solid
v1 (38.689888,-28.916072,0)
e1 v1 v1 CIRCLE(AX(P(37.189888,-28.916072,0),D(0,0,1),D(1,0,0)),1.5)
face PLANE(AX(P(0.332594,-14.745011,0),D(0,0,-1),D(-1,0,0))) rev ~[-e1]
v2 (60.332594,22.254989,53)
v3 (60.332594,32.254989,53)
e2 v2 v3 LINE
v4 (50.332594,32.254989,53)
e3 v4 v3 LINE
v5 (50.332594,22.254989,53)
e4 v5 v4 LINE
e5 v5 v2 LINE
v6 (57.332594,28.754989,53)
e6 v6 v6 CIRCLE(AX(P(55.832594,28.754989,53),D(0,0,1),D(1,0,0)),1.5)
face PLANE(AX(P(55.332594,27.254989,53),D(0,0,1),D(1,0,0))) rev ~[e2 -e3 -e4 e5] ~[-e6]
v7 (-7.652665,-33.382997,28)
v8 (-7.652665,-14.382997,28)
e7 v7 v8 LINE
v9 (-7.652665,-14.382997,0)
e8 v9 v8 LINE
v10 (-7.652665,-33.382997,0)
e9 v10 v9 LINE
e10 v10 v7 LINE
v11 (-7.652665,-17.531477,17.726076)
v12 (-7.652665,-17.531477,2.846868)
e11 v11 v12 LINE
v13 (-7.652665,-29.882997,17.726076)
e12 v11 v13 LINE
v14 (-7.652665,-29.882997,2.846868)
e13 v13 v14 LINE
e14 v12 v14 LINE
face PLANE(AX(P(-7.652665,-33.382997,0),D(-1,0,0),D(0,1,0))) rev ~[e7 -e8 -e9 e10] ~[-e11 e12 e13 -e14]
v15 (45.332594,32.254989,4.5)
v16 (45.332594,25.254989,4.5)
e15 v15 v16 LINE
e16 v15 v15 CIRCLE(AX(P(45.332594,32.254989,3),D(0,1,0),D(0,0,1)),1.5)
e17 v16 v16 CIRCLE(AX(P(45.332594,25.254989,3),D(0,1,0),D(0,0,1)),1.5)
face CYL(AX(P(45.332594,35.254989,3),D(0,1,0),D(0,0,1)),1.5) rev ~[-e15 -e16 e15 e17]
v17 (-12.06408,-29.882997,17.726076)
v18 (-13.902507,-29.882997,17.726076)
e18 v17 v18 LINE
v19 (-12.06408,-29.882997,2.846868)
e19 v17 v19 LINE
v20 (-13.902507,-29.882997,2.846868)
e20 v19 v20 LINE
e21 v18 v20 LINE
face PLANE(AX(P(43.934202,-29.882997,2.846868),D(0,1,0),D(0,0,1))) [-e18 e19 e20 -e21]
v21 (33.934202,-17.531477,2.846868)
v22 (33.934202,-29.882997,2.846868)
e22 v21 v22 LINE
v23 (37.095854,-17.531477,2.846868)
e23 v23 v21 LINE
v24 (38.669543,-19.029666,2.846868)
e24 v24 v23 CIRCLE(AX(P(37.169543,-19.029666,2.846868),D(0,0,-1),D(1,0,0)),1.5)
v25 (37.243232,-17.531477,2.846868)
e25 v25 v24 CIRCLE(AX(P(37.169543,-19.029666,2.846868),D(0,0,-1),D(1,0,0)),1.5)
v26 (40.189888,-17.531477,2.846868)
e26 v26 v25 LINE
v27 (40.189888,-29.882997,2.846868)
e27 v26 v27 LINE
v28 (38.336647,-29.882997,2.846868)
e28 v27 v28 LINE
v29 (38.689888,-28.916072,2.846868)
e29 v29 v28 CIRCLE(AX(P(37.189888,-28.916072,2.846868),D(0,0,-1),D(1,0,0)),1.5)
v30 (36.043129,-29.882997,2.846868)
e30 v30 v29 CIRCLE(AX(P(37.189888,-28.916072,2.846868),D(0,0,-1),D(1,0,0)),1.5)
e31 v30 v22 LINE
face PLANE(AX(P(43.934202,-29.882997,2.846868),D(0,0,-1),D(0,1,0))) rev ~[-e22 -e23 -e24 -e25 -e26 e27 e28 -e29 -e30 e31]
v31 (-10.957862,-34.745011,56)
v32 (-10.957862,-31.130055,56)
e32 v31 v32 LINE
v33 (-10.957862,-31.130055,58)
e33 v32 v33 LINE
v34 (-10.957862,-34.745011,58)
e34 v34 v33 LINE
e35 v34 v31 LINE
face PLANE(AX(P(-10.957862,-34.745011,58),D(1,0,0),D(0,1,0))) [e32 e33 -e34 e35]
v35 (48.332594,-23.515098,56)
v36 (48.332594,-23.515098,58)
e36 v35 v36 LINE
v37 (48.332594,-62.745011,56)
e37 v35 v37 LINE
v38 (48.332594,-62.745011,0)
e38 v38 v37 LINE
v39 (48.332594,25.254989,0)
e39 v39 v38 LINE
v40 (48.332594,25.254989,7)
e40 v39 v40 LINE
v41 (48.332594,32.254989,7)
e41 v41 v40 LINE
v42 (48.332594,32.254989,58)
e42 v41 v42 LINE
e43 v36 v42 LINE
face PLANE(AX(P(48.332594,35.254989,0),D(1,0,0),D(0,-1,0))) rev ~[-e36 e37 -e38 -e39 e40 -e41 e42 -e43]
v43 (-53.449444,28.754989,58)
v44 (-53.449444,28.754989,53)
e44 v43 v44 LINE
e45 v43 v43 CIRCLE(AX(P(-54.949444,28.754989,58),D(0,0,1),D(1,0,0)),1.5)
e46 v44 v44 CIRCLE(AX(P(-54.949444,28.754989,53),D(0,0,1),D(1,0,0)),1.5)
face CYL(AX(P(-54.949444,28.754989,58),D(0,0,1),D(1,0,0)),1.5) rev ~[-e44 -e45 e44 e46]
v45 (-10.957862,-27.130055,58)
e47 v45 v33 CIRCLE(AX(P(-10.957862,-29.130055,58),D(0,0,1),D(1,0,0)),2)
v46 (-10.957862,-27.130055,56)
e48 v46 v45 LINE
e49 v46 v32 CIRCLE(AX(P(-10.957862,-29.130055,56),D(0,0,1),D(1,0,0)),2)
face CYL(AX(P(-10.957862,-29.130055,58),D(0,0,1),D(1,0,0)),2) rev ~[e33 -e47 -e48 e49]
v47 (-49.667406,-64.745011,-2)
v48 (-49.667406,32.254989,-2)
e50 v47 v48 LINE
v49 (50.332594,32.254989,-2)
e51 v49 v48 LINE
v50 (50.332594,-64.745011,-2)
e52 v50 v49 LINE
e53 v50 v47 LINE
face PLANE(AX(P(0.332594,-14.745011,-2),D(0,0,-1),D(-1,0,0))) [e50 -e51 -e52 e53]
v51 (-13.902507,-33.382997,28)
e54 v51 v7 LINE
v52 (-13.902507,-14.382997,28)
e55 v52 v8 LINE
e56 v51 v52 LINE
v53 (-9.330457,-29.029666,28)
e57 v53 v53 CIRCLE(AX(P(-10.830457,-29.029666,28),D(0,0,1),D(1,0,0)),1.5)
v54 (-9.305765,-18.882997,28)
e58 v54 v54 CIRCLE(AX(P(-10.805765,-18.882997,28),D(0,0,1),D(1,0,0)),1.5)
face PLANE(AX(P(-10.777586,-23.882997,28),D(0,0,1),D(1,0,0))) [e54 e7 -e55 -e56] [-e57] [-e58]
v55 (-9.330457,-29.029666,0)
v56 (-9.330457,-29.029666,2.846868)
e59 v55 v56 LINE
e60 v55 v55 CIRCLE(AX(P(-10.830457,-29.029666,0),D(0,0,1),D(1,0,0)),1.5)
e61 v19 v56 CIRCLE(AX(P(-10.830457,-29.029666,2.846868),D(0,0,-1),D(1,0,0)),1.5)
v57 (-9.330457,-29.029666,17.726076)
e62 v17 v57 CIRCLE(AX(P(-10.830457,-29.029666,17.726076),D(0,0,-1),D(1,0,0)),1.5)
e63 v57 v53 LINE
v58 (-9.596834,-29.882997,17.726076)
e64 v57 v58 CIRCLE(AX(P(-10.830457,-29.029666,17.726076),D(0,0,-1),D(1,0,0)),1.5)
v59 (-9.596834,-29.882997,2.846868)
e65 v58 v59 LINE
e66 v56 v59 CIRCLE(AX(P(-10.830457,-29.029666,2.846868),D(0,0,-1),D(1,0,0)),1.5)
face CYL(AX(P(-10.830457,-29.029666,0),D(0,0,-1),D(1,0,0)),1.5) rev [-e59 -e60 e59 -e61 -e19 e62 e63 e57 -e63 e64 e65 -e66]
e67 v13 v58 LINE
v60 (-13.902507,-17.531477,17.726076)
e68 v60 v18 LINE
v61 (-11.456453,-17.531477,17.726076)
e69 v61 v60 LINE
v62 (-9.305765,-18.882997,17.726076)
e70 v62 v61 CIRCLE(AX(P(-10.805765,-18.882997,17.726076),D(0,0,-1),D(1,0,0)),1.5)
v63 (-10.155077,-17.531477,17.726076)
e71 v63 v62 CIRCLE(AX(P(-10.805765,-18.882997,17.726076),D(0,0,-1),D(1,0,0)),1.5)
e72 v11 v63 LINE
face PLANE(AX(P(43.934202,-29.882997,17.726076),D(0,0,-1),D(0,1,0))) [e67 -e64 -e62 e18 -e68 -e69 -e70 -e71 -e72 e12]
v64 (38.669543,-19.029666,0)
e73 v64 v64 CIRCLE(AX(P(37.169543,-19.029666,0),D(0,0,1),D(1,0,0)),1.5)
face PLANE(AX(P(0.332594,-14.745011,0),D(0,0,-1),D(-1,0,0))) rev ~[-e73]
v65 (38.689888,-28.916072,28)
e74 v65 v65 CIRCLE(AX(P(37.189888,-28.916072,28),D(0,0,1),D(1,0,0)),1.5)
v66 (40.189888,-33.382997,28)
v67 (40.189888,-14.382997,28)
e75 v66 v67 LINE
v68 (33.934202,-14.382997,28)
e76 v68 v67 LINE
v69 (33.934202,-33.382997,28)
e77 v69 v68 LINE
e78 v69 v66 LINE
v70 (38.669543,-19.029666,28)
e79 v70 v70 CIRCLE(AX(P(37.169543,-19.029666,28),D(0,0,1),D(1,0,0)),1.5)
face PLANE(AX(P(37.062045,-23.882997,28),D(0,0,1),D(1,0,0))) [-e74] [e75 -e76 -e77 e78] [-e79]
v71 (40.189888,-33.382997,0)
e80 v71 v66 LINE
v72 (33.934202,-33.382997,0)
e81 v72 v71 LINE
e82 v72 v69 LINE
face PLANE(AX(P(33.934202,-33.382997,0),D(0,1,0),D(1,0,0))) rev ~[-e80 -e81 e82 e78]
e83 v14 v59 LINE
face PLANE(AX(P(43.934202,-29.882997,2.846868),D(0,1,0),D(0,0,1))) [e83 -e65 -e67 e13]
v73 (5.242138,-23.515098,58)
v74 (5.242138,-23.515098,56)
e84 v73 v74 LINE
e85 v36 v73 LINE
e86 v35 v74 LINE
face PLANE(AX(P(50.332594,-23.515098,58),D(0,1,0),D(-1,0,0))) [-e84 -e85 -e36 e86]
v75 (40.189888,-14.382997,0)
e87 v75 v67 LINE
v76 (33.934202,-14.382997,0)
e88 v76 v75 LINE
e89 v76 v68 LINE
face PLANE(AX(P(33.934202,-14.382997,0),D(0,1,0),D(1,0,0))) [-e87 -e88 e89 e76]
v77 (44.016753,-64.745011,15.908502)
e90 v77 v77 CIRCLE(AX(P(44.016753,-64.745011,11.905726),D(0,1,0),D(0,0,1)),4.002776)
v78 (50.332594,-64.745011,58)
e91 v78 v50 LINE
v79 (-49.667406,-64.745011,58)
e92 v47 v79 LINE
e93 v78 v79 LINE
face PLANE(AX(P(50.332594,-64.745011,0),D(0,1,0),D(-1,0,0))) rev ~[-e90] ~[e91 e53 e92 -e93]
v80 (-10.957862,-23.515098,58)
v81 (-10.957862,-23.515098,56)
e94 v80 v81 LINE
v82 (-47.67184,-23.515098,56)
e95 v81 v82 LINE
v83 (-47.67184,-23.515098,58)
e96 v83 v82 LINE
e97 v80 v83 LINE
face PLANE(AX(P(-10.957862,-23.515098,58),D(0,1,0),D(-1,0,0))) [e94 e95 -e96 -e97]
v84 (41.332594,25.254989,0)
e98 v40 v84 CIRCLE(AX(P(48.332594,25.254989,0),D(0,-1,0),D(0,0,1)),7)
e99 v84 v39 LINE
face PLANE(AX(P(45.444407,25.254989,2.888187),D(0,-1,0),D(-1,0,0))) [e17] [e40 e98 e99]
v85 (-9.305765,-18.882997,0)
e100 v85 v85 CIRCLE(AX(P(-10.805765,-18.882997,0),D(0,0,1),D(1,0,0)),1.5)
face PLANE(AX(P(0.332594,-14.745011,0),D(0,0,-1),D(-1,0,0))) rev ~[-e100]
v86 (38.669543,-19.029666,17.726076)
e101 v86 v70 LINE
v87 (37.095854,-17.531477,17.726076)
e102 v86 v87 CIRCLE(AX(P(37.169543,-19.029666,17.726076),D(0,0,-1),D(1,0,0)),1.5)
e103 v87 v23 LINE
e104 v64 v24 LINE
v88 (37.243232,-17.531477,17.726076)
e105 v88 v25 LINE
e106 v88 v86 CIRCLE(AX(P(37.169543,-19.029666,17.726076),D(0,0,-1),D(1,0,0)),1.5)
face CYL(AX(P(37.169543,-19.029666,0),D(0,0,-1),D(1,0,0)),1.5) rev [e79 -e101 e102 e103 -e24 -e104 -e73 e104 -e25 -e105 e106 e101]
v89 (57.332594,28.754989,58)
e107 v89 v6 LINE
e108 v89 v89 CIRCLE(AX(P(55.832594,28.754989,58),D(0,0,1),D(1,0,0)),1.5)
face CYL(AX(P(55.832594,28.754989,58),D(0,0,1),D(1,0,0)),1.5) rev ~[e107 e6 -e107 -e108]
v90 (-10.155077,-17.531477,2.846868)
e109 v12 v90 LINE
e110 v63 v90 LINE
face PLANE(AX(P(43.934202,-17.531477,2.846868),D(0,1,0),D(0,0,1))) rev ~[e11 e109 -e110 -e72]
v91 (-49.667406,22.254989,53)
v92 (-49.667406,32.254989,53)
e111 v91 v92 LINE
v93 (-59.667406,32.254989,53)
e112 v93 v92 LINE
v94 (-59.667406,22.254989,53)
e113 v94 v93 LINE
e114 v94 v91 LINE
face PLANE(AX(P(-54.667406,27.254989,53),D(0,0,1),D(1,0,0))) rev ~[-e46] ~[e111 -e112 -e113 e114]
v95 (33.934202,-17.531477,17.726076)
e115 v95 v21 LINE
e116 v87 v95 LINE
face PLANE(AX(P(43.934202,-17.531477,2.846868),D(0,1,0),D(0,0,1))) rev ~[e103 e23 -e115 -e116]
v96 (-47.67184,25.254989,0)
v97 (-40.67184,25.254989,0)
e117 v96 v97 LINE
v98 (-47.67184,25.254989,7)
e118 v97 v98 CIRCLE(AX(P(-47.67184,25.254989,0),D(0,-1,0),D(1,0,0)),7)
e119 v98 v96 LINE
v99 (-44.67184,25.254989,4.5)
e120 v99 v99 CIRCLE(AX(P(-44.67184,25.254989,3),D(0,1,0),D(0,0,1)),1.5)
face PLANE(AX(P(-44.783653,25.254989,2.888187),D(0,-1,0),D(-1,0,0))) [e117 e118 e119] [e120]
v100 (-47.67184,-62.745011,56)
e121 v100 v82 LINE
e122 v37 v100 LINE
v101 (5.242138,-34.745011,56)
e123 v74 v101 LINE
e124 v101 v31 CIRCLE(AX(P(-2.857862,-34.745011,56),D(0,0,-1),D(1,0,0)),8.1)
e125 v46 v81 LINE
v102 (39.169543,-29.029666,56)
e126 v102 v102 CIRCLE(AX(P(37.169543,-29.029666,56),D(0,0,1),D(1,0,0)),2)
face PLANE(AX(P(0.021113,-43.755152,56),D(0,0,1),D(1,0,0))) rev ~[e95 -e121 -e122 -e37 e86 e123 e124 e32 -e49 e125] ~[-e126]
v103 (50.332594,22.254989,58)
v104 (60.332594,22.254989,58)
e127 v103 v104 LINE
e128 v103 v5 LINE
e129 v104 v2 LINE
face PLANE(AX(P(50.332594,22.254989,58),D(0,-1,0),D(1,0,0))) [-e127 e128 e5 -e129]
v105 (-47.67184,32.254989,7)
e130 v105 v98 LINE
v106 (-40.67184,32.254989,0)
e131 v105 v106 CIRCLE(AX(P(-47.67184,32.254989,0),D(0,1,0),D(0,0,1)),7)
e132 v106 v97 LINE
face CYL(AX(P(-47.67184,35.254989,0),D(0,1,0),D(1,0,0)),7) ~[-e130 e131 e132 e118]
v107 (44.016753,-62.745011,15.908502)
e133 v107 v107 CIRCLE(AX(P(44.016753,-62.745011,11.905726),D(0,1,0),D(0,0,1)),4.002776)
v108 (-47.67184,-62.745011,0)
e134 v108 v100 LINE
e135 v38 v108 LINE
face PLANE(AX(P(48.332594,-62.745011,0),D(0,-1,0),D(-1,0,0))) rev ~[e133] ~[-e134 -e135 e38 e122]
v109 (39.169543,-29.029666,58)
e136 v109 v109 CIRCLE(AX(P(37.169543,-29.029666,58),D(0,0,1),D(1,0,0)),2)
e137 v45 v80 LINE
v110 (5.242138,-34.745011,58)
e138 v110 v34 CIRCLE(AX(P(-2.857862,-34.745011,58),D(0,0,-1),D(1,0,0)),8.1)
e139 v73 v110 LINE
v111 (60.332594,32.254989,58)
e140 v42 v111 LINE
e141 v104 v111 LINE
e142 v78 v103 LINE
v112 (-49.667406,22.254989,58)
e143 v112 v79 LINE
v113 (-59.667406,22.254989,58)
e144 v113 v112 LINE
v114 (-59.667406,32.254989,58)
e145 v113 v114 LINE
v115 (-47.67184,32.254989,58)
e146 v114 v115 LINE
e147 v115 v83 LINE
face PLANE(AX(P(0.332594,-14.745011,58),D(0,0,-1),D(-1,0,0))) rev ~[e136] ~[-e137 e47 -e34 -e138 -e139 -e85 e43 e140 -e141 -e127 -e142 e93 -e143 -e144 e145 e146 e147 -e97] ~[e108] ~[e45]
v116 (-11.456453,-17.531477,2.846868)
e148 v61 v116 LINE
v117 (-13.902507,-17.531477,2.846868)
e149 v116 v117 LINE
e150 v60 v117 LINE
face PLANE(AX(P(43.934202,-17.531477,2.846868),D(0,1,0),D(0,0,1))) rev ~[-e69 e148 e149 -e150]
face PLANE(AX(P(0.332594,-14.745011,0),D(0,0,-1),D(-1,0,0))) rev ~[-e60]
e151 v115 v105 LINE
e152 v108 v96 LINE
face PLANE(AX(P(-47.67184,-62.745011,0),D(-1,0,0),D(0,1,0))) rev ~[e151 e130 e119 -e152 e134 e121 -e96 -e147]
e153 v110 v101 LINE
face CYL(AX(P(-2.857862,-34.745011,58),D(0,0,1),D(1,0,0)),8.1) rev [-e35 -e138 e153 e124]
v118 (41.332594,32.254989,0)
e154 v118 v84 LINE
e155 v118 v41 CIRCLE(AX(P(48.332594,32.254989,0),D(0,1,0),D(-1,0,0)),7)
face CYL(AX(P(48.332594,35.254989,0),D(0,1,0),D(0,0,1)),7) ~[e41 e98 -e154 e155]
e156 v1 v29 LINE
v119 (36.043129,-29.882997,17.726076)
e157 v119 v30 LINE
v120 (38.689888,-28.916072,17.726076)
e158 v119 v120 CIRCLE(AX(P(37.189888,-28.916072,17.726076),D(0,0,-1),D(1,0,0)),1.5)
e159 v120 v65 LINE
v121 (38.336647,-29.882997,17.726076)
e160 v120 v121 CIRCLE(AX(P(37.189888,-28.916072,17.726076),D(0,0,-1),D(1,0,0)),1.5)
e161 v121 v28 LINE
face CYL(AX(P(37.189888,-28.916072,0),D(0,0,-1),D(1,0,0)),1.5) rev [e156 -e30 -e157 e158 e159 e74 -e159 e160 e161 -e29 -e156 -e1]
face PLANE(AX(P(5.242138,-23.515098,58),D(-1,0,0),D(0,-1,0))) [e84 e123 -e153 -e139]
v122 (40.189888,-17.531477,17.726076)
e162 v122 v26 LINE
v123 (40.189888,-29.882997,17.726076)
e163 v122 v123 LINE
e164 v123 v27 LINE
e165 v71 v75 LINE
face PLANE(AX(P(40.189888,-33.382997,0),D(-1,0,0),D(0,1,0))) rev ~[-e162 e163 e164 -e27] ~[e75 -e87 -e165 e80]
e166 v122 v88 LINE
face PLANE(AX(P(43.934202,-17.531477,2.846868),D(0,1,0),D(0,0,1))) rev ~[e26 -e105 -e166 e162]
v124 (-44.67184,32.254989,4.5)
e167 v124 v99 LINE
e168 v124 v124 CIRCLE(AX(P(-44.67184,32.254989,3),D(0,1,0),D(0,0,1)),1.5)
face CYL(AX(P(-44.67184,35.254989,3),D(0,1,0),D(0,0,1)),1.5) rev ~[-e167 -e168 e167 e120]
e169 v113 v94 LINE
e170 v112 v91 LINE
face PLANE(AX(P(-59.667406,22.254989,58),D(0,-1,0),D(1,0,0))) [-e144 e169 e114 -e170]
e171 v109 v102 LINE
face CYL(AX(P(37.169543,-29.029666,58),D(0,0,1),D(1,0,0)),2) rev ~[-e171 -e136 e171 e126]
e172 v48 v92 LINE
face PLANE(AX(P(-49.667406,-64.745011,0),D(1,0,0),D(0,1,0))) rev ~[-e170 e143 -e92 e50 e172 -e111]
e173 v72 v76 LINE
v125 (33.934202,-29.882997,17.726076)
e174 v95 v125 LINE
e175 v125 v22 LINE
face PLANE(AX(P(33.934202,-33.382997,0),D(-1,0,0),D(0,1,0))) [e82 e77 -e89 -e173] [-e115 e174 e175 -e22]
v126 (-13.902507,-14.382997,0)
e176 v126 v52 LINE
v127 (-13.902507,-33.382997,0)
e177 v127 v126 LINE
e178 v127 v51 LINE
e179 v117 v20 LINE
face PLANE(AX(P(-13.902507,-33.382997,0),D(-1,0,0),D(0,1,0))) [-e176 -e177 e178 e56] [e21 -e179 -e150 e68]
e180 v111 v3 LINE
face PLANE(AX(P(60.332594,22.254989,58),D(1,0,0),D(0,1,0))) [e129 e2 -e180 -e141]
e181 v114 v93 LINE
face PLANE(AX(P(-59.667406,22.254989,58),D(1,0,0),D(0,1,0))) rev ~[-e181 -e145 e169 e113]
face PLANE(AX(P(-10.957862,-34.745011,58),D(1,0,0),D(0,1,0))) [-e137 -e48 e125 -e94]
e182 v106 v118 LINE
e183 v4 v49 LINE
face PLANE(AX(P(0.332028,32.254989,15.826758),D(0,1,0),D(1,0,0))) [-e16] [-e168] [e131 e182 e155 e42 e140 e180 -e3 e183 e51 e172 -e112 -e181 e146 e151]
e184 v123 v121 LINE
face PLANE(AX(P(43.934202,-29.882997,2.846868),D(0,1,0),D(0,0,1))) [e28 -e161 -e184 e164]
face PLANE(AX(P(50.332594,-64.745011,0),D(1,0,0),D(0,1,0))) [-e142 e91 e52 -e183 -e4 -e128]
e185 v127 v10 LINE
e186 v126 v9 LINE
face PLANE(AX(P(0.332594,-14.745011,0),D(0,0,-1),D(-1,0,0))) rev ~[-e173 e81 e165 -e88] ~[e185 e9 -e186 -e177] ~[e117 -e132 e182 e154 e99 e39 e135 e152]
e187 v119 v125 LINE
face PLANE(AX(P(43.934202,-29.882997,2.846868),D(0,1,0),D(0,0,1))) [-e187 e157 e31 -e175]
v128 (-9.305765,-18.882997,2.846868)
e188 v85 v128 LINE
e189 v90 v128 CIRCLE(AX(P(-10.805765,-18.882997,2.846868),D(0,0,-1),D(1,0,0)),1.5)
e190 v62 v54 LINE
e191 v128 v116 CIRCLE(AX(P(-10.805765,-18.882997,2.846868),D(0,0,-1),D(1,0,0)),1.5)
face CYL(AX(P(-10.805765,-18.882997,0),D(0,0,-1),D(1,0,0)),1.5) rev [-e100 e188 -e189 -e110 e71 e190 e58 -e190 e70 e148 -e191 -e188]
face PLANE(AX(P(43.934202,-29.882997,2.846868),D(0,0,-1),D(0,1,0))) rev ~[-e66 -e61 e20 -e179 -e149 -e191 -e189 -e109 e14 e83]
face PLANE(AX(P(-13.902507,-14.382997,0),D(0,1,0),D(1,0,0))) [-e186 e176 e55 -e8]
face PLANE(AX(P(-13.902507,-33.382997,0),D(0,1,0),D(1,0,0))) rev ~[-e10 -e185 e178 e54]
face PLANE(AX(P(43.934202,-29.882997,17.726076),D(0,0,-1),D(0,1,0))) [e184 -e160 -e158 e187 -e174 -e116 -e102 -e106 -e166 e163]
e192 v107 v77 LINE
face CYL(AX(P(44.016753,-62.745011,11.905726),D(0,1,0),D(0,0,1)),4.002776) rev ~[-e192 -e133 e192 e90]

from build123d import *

# Parameters (mm, degrees)
BOSS_EXTRUDE1_DEPTH     = 70
SKETCH2_W               = 100
SKETCH2_H               = 100
BOSS_EXTRUDE2_DEPTH     = 2
SKETCH3_W               = 6.255686465
SKETCH3_H               = 19
SKETCH3_R               = 1.5
SKETCH3_W_2             = 6.249842205
BOSS_EXTRUDE4_DEPTH     = 28
CUT_EXTRUDE2_DEPTH      = 49
CUT_EXTRUDE2_DEPTH_BACK = 10
SKETCH4_W               = 14.879207683
SKETCH4_H               = 12.351519759
SKETCH5_W               = 96.00443459
SKETCH5_H               = 43.693152777
BOSS_EXTRUDE5_DEPTH     = 2
SKETCH9_W               = 100
SKETCH9_H               = 100
CUT_EXTRUDE3_DEPTH      = 42
BOSS_EXTRUDE6_DEPTH     = 2
SKETCH8_R               = 1.5
BOSS_EXTRUDE7_DEPTH     = 10
SKETCH11_W              = 10
SKETCH11_H              = 10
SKETCH11_R              = 1.5
BOSS_EXTRUDE8_DEPTH     = 5
SKETCH13_R              = 2
CUT_EXTRUDE4_DEPTH      = 10
CUT_EXTRUDE5_DEPTH      = 3
SKETCH16_R              = 4.002775558
CUT_EXTRUDE7_DEPTH      = 3


with BuildPart() as part:
    # Sketch1 → Boss-Extrude1 (new body)
    with BuildSketch(Plane.XY):
        Polygon((-47.671840355, 33.254988914), (-47.671840355, 35.254988914), (-49.667405765, 35.254988914), (-49.667405765, -64.745011086), (50.332594235, -64.745011086), (50.332594235, 35.254988914), (48.332594235, 35.254988914), (48.332594235, 33.254988914), (48.332594235, -62.745011086), (-47.671840355, -62.745011086), align=None)
    extrude(amount=BOSS_EXTRUDE1_DEPTH)

    # Sketch2 → Boss-Extrude2 (add)
    with BuildSketch(Plane(origin=(0, 0, 0), x_dir=(-1, 0, 0), z_dir=(0, 0, -1))):
        with Locations((-0.332594235, -14.745011086)):
            Rectangle(SKETCH2_W, SKETCH2_H)
    extrude(amount=BOSS_EXTRUDE2_DEPTH)

    # Sketch3 → Boss-Extrude4 (add)
    # profile 1 of 2: a face of its own
    with BuildSketch(Plane.XY):
        with Locations((37.062045054, -23.882996664)):
            Rectangle(SKETCH3_W, SKETCH3_H)
        with Locations((37.169542955, -19.02966579)):
            Circle(SKETCH3_R, mode=Mode.SUBTRACT)
        with Locations((37.189888286, -28.916071788)):
            Circle(SKETCH3_R, mode=Mode.SUBTRACT)
    # profile 2 of 2: a face of its own
    with BuildSketch(Plane.XY):
        with Locations((-10.777585785, -23.882996664)):
            Rectangle(SKETCH3_W_2, SKETCH3_H)
        with Locations((-10.805764952, -18.882996664)):
            Circle(SKETCH3_R, mode=Mode.SUBTRACT)
        with Locations((-10.830457045, -29.02966579)):
            Circle(SKETCH3_R, mode=Mode.SUBTRACT)
    extrude(amount=BOSS_EXTRUDE4_DEPTH)

    # Sketch4 → Cut-Extrude2 (cut, two sides: drawn at the far end of the back side and taken through both)
    with BuildSketch(Plane.ZY.offset(-33.934201821).offset(-CUT_EXTRUDE2_DEPTH_BACK)):
        with Locations((10.28647213, -23.707236785)):
            Rectangle(SKETCH4_W, SKETCH4_H)
    extrude(amount=CUT_EXTRUDE2_DEPTH + CUT_EXTRUDE2_DEPTH_BACK, mode=Mode.SUBTRACT)

    # Sketch5 → Boss-Extrude5 (add)
    with BuildSketch(Plane.XY.offset(70)):
        with Locations((0.33037694, -40.898434698)):
            Rectangle(SKETCH5_W, SKETCH5_H)
    extrude(amount=-BOSS_EXTRUDE5_DEPTH)

    # Sketch9 → Cut-Extrude3 (cut)
    with BuildSketch(Plane(origin=(0, 0, 58), x_dir=(-1, 0, 0), z_dir=(0, 0, -1))):
        with Locations((-0.332594235, -14.745011086)):
            Rectangle(SKETCH9_W, SKETCH9_H)
    extrude(amount=-CUT_EXTRUDE3_DEPTH, mode=Mode.SUBTRACT)

    # Sketch10 → Boss-Extrude6 (add)
    with BuildSketch(Plane.XY.offset(58)):
        with BuildLine():
            Line((-49.667405765, -64.745011086), (50.332594235, -64.745011086))
            Line((50.332594235, -64.745011086), (50.332594235, -23.515098033))
            Line((50.332594235, -23.515098033), (16.092202794, -23.515098033))
            Line((16.092202794, -23.515098033), (5.242138191, -23.515098033))
            Line((5.242138191, -23.515098033), (5.242138191, -34.745011086))
            ThreePointArc((5.242138191, -34.745011086), (-2.857861809, -42.845011086), (-10.957861809, -34.745011086))
            Line((-10.957861809, -34.745011086), (-10.957861809, -23.515098033))
            Line((-10.957861809, -23.515098033), (-15.769437358, -23.515098033))
            Line((-15.769437358, -23.515098033), (-49.667405765, -23.515098033))
            Line((-49.667405765, -23.515098033), (-49.667405765, -64.745011086))
        make_face()
    extrude(amount=-BOSS_EXTRUDE6_DEPTH)

    # Sketch8 → Boss-Extrude7 (add)
    # profile 1 of 2: a face of its own
    with BuildSketch(Plane(origin=(0, 35.254988914, 0), x_dir=(1, 0, 0), z_dir=(0, 1, 0))):
        with BuildLine():
            Line((-47.671840355, 0), (-40.671840355, 0))
            ThreePointArc((-40.671840355, 0), (-42.722092886, -4.949747468), (-47.671840355, -7))
            Line((-47.671840355, -7), (-47.671840355, 0))
        make_face()
        with Locations(Location((-44.671840355, -3, 0), (0, 0, 270))):
            Circle(SKETCH8_R, mode=Mode.SUBTRACT)
    # profile 2 of 2: a face of its own
    with BuildSketch(Plane(origin=(0, 35.254988914, 0), x_dir=(1, 0, 0), z_dir=(0, 1, 0))):
        with BuildLine():
            Line((48.332594235, 0), (48.332594235, -7))
            ThreePointArc((48.332594235, -7), (43.382846767, -4.949747468), (41.332594235, 0))
            Line((41.332594235, 0), (48.332594235, 0))
        make_face()
        with Locations(Location((45.332594235, -3, 0), (0, 0, 270))):
            Circle(SKETCH8_R, mode=Mode.SUBTRACT)
    extrude(amount=-BOSS_EXTRUDE7_DEPTH)

    # Sketch11 → Boss-Extrude8 (add)
    # profile 1 of 2: a face of its own
    with BuildSketch(Plane.XY.offset(58)):
        with Locations((-54.667405765, 27.254988914)):
            Rectangle(SKETCH11_W, SKETCH11_H)
        with Locations((-54.949444375, 28.754988914)):
            Circle(SKETCH11_R, mode=Mode.SUBTRACT)
    # profile 2 of 2: a face of its own
    with BuildSketch(Plane.XY.offset(58)):
        with Locations((55.332594235, 27.254988914)):
            Rectangle(SKETCH11_W, SKETCH11_H)
        with Locations((55.832594235, 28.754988914)):
            Circle(SKETCH11_R, mode=Mode.SUBTRACT)
    extrude(amount=-BOSS_EXTRUDE8_DEPTH)

    # Sketch13 → Cut-Extrude4 (cut)
    with BuildSketch(Plane.XY.offset(58)):
        with Locations((-10.957861809, -29.13005456)):
            Circle(SKETCH13_R)
        with Locations((37.169542955, -29.02966579)):
            Circle(SKETCH13_R)
    extrude(amount=-CUT_EXTRUDE4_DEPTH, mode=Mode.SUBTRACT)

    # Sketch15 → Cut-Extrude5 (cut)
    with BuildSketch(Plane(origin=(0, 35.254988914, 0), x_dir=(1, 0, 0), z_dir=(0, 1, 0))):
        with BuildLine():
            Line((-47.671840355, -58), (-47.671840355, -7))
            ThreePointArc((-47.671840355, -7), (-42.722092886, -4.949747468), (-40.671840355, 0))
            Line((-40.671840355, 0), (41.332594235, 0))
            ThreePointArc((41.332594235, 0), (43.382846767, -4.949747468), (48.332594235, -7))
            Line((48.332594235, -7), (48.332594235, -58))
            Line((48.332594235, -58), (50.332594235, -58))
            Line((50.332594235, -58), (50.332594235, 2))
            Line((50.332594235, 2), (-49.667405765, 2))
            Line((-49.667405765, 2), (-49.667405765, -58))
            Line((-49.667405765, -58), (-47.671840355, -58))
        make_face()
    extrude(amount=-CUT_EXTRUDE5_DEPTH, mode=Mode.SUBTRACT)

    # Sketch16 → Cut-Extrude7 (cut)
    with BuildSketch(Plane(origin=(0, -62.745011086, 0), x_dir=(1, 0, 0), z_dir=(0, 1, 0))):
        with Locations(Location((44.016753305, -11.905726119, 0), (0, 0, 270))):
            Circle(SKETCH16_R)
    extrude(amount=-CUT_EXTRUDE7_DEPTH, mode=Mode.SUBTRACT)


solid = part.part
